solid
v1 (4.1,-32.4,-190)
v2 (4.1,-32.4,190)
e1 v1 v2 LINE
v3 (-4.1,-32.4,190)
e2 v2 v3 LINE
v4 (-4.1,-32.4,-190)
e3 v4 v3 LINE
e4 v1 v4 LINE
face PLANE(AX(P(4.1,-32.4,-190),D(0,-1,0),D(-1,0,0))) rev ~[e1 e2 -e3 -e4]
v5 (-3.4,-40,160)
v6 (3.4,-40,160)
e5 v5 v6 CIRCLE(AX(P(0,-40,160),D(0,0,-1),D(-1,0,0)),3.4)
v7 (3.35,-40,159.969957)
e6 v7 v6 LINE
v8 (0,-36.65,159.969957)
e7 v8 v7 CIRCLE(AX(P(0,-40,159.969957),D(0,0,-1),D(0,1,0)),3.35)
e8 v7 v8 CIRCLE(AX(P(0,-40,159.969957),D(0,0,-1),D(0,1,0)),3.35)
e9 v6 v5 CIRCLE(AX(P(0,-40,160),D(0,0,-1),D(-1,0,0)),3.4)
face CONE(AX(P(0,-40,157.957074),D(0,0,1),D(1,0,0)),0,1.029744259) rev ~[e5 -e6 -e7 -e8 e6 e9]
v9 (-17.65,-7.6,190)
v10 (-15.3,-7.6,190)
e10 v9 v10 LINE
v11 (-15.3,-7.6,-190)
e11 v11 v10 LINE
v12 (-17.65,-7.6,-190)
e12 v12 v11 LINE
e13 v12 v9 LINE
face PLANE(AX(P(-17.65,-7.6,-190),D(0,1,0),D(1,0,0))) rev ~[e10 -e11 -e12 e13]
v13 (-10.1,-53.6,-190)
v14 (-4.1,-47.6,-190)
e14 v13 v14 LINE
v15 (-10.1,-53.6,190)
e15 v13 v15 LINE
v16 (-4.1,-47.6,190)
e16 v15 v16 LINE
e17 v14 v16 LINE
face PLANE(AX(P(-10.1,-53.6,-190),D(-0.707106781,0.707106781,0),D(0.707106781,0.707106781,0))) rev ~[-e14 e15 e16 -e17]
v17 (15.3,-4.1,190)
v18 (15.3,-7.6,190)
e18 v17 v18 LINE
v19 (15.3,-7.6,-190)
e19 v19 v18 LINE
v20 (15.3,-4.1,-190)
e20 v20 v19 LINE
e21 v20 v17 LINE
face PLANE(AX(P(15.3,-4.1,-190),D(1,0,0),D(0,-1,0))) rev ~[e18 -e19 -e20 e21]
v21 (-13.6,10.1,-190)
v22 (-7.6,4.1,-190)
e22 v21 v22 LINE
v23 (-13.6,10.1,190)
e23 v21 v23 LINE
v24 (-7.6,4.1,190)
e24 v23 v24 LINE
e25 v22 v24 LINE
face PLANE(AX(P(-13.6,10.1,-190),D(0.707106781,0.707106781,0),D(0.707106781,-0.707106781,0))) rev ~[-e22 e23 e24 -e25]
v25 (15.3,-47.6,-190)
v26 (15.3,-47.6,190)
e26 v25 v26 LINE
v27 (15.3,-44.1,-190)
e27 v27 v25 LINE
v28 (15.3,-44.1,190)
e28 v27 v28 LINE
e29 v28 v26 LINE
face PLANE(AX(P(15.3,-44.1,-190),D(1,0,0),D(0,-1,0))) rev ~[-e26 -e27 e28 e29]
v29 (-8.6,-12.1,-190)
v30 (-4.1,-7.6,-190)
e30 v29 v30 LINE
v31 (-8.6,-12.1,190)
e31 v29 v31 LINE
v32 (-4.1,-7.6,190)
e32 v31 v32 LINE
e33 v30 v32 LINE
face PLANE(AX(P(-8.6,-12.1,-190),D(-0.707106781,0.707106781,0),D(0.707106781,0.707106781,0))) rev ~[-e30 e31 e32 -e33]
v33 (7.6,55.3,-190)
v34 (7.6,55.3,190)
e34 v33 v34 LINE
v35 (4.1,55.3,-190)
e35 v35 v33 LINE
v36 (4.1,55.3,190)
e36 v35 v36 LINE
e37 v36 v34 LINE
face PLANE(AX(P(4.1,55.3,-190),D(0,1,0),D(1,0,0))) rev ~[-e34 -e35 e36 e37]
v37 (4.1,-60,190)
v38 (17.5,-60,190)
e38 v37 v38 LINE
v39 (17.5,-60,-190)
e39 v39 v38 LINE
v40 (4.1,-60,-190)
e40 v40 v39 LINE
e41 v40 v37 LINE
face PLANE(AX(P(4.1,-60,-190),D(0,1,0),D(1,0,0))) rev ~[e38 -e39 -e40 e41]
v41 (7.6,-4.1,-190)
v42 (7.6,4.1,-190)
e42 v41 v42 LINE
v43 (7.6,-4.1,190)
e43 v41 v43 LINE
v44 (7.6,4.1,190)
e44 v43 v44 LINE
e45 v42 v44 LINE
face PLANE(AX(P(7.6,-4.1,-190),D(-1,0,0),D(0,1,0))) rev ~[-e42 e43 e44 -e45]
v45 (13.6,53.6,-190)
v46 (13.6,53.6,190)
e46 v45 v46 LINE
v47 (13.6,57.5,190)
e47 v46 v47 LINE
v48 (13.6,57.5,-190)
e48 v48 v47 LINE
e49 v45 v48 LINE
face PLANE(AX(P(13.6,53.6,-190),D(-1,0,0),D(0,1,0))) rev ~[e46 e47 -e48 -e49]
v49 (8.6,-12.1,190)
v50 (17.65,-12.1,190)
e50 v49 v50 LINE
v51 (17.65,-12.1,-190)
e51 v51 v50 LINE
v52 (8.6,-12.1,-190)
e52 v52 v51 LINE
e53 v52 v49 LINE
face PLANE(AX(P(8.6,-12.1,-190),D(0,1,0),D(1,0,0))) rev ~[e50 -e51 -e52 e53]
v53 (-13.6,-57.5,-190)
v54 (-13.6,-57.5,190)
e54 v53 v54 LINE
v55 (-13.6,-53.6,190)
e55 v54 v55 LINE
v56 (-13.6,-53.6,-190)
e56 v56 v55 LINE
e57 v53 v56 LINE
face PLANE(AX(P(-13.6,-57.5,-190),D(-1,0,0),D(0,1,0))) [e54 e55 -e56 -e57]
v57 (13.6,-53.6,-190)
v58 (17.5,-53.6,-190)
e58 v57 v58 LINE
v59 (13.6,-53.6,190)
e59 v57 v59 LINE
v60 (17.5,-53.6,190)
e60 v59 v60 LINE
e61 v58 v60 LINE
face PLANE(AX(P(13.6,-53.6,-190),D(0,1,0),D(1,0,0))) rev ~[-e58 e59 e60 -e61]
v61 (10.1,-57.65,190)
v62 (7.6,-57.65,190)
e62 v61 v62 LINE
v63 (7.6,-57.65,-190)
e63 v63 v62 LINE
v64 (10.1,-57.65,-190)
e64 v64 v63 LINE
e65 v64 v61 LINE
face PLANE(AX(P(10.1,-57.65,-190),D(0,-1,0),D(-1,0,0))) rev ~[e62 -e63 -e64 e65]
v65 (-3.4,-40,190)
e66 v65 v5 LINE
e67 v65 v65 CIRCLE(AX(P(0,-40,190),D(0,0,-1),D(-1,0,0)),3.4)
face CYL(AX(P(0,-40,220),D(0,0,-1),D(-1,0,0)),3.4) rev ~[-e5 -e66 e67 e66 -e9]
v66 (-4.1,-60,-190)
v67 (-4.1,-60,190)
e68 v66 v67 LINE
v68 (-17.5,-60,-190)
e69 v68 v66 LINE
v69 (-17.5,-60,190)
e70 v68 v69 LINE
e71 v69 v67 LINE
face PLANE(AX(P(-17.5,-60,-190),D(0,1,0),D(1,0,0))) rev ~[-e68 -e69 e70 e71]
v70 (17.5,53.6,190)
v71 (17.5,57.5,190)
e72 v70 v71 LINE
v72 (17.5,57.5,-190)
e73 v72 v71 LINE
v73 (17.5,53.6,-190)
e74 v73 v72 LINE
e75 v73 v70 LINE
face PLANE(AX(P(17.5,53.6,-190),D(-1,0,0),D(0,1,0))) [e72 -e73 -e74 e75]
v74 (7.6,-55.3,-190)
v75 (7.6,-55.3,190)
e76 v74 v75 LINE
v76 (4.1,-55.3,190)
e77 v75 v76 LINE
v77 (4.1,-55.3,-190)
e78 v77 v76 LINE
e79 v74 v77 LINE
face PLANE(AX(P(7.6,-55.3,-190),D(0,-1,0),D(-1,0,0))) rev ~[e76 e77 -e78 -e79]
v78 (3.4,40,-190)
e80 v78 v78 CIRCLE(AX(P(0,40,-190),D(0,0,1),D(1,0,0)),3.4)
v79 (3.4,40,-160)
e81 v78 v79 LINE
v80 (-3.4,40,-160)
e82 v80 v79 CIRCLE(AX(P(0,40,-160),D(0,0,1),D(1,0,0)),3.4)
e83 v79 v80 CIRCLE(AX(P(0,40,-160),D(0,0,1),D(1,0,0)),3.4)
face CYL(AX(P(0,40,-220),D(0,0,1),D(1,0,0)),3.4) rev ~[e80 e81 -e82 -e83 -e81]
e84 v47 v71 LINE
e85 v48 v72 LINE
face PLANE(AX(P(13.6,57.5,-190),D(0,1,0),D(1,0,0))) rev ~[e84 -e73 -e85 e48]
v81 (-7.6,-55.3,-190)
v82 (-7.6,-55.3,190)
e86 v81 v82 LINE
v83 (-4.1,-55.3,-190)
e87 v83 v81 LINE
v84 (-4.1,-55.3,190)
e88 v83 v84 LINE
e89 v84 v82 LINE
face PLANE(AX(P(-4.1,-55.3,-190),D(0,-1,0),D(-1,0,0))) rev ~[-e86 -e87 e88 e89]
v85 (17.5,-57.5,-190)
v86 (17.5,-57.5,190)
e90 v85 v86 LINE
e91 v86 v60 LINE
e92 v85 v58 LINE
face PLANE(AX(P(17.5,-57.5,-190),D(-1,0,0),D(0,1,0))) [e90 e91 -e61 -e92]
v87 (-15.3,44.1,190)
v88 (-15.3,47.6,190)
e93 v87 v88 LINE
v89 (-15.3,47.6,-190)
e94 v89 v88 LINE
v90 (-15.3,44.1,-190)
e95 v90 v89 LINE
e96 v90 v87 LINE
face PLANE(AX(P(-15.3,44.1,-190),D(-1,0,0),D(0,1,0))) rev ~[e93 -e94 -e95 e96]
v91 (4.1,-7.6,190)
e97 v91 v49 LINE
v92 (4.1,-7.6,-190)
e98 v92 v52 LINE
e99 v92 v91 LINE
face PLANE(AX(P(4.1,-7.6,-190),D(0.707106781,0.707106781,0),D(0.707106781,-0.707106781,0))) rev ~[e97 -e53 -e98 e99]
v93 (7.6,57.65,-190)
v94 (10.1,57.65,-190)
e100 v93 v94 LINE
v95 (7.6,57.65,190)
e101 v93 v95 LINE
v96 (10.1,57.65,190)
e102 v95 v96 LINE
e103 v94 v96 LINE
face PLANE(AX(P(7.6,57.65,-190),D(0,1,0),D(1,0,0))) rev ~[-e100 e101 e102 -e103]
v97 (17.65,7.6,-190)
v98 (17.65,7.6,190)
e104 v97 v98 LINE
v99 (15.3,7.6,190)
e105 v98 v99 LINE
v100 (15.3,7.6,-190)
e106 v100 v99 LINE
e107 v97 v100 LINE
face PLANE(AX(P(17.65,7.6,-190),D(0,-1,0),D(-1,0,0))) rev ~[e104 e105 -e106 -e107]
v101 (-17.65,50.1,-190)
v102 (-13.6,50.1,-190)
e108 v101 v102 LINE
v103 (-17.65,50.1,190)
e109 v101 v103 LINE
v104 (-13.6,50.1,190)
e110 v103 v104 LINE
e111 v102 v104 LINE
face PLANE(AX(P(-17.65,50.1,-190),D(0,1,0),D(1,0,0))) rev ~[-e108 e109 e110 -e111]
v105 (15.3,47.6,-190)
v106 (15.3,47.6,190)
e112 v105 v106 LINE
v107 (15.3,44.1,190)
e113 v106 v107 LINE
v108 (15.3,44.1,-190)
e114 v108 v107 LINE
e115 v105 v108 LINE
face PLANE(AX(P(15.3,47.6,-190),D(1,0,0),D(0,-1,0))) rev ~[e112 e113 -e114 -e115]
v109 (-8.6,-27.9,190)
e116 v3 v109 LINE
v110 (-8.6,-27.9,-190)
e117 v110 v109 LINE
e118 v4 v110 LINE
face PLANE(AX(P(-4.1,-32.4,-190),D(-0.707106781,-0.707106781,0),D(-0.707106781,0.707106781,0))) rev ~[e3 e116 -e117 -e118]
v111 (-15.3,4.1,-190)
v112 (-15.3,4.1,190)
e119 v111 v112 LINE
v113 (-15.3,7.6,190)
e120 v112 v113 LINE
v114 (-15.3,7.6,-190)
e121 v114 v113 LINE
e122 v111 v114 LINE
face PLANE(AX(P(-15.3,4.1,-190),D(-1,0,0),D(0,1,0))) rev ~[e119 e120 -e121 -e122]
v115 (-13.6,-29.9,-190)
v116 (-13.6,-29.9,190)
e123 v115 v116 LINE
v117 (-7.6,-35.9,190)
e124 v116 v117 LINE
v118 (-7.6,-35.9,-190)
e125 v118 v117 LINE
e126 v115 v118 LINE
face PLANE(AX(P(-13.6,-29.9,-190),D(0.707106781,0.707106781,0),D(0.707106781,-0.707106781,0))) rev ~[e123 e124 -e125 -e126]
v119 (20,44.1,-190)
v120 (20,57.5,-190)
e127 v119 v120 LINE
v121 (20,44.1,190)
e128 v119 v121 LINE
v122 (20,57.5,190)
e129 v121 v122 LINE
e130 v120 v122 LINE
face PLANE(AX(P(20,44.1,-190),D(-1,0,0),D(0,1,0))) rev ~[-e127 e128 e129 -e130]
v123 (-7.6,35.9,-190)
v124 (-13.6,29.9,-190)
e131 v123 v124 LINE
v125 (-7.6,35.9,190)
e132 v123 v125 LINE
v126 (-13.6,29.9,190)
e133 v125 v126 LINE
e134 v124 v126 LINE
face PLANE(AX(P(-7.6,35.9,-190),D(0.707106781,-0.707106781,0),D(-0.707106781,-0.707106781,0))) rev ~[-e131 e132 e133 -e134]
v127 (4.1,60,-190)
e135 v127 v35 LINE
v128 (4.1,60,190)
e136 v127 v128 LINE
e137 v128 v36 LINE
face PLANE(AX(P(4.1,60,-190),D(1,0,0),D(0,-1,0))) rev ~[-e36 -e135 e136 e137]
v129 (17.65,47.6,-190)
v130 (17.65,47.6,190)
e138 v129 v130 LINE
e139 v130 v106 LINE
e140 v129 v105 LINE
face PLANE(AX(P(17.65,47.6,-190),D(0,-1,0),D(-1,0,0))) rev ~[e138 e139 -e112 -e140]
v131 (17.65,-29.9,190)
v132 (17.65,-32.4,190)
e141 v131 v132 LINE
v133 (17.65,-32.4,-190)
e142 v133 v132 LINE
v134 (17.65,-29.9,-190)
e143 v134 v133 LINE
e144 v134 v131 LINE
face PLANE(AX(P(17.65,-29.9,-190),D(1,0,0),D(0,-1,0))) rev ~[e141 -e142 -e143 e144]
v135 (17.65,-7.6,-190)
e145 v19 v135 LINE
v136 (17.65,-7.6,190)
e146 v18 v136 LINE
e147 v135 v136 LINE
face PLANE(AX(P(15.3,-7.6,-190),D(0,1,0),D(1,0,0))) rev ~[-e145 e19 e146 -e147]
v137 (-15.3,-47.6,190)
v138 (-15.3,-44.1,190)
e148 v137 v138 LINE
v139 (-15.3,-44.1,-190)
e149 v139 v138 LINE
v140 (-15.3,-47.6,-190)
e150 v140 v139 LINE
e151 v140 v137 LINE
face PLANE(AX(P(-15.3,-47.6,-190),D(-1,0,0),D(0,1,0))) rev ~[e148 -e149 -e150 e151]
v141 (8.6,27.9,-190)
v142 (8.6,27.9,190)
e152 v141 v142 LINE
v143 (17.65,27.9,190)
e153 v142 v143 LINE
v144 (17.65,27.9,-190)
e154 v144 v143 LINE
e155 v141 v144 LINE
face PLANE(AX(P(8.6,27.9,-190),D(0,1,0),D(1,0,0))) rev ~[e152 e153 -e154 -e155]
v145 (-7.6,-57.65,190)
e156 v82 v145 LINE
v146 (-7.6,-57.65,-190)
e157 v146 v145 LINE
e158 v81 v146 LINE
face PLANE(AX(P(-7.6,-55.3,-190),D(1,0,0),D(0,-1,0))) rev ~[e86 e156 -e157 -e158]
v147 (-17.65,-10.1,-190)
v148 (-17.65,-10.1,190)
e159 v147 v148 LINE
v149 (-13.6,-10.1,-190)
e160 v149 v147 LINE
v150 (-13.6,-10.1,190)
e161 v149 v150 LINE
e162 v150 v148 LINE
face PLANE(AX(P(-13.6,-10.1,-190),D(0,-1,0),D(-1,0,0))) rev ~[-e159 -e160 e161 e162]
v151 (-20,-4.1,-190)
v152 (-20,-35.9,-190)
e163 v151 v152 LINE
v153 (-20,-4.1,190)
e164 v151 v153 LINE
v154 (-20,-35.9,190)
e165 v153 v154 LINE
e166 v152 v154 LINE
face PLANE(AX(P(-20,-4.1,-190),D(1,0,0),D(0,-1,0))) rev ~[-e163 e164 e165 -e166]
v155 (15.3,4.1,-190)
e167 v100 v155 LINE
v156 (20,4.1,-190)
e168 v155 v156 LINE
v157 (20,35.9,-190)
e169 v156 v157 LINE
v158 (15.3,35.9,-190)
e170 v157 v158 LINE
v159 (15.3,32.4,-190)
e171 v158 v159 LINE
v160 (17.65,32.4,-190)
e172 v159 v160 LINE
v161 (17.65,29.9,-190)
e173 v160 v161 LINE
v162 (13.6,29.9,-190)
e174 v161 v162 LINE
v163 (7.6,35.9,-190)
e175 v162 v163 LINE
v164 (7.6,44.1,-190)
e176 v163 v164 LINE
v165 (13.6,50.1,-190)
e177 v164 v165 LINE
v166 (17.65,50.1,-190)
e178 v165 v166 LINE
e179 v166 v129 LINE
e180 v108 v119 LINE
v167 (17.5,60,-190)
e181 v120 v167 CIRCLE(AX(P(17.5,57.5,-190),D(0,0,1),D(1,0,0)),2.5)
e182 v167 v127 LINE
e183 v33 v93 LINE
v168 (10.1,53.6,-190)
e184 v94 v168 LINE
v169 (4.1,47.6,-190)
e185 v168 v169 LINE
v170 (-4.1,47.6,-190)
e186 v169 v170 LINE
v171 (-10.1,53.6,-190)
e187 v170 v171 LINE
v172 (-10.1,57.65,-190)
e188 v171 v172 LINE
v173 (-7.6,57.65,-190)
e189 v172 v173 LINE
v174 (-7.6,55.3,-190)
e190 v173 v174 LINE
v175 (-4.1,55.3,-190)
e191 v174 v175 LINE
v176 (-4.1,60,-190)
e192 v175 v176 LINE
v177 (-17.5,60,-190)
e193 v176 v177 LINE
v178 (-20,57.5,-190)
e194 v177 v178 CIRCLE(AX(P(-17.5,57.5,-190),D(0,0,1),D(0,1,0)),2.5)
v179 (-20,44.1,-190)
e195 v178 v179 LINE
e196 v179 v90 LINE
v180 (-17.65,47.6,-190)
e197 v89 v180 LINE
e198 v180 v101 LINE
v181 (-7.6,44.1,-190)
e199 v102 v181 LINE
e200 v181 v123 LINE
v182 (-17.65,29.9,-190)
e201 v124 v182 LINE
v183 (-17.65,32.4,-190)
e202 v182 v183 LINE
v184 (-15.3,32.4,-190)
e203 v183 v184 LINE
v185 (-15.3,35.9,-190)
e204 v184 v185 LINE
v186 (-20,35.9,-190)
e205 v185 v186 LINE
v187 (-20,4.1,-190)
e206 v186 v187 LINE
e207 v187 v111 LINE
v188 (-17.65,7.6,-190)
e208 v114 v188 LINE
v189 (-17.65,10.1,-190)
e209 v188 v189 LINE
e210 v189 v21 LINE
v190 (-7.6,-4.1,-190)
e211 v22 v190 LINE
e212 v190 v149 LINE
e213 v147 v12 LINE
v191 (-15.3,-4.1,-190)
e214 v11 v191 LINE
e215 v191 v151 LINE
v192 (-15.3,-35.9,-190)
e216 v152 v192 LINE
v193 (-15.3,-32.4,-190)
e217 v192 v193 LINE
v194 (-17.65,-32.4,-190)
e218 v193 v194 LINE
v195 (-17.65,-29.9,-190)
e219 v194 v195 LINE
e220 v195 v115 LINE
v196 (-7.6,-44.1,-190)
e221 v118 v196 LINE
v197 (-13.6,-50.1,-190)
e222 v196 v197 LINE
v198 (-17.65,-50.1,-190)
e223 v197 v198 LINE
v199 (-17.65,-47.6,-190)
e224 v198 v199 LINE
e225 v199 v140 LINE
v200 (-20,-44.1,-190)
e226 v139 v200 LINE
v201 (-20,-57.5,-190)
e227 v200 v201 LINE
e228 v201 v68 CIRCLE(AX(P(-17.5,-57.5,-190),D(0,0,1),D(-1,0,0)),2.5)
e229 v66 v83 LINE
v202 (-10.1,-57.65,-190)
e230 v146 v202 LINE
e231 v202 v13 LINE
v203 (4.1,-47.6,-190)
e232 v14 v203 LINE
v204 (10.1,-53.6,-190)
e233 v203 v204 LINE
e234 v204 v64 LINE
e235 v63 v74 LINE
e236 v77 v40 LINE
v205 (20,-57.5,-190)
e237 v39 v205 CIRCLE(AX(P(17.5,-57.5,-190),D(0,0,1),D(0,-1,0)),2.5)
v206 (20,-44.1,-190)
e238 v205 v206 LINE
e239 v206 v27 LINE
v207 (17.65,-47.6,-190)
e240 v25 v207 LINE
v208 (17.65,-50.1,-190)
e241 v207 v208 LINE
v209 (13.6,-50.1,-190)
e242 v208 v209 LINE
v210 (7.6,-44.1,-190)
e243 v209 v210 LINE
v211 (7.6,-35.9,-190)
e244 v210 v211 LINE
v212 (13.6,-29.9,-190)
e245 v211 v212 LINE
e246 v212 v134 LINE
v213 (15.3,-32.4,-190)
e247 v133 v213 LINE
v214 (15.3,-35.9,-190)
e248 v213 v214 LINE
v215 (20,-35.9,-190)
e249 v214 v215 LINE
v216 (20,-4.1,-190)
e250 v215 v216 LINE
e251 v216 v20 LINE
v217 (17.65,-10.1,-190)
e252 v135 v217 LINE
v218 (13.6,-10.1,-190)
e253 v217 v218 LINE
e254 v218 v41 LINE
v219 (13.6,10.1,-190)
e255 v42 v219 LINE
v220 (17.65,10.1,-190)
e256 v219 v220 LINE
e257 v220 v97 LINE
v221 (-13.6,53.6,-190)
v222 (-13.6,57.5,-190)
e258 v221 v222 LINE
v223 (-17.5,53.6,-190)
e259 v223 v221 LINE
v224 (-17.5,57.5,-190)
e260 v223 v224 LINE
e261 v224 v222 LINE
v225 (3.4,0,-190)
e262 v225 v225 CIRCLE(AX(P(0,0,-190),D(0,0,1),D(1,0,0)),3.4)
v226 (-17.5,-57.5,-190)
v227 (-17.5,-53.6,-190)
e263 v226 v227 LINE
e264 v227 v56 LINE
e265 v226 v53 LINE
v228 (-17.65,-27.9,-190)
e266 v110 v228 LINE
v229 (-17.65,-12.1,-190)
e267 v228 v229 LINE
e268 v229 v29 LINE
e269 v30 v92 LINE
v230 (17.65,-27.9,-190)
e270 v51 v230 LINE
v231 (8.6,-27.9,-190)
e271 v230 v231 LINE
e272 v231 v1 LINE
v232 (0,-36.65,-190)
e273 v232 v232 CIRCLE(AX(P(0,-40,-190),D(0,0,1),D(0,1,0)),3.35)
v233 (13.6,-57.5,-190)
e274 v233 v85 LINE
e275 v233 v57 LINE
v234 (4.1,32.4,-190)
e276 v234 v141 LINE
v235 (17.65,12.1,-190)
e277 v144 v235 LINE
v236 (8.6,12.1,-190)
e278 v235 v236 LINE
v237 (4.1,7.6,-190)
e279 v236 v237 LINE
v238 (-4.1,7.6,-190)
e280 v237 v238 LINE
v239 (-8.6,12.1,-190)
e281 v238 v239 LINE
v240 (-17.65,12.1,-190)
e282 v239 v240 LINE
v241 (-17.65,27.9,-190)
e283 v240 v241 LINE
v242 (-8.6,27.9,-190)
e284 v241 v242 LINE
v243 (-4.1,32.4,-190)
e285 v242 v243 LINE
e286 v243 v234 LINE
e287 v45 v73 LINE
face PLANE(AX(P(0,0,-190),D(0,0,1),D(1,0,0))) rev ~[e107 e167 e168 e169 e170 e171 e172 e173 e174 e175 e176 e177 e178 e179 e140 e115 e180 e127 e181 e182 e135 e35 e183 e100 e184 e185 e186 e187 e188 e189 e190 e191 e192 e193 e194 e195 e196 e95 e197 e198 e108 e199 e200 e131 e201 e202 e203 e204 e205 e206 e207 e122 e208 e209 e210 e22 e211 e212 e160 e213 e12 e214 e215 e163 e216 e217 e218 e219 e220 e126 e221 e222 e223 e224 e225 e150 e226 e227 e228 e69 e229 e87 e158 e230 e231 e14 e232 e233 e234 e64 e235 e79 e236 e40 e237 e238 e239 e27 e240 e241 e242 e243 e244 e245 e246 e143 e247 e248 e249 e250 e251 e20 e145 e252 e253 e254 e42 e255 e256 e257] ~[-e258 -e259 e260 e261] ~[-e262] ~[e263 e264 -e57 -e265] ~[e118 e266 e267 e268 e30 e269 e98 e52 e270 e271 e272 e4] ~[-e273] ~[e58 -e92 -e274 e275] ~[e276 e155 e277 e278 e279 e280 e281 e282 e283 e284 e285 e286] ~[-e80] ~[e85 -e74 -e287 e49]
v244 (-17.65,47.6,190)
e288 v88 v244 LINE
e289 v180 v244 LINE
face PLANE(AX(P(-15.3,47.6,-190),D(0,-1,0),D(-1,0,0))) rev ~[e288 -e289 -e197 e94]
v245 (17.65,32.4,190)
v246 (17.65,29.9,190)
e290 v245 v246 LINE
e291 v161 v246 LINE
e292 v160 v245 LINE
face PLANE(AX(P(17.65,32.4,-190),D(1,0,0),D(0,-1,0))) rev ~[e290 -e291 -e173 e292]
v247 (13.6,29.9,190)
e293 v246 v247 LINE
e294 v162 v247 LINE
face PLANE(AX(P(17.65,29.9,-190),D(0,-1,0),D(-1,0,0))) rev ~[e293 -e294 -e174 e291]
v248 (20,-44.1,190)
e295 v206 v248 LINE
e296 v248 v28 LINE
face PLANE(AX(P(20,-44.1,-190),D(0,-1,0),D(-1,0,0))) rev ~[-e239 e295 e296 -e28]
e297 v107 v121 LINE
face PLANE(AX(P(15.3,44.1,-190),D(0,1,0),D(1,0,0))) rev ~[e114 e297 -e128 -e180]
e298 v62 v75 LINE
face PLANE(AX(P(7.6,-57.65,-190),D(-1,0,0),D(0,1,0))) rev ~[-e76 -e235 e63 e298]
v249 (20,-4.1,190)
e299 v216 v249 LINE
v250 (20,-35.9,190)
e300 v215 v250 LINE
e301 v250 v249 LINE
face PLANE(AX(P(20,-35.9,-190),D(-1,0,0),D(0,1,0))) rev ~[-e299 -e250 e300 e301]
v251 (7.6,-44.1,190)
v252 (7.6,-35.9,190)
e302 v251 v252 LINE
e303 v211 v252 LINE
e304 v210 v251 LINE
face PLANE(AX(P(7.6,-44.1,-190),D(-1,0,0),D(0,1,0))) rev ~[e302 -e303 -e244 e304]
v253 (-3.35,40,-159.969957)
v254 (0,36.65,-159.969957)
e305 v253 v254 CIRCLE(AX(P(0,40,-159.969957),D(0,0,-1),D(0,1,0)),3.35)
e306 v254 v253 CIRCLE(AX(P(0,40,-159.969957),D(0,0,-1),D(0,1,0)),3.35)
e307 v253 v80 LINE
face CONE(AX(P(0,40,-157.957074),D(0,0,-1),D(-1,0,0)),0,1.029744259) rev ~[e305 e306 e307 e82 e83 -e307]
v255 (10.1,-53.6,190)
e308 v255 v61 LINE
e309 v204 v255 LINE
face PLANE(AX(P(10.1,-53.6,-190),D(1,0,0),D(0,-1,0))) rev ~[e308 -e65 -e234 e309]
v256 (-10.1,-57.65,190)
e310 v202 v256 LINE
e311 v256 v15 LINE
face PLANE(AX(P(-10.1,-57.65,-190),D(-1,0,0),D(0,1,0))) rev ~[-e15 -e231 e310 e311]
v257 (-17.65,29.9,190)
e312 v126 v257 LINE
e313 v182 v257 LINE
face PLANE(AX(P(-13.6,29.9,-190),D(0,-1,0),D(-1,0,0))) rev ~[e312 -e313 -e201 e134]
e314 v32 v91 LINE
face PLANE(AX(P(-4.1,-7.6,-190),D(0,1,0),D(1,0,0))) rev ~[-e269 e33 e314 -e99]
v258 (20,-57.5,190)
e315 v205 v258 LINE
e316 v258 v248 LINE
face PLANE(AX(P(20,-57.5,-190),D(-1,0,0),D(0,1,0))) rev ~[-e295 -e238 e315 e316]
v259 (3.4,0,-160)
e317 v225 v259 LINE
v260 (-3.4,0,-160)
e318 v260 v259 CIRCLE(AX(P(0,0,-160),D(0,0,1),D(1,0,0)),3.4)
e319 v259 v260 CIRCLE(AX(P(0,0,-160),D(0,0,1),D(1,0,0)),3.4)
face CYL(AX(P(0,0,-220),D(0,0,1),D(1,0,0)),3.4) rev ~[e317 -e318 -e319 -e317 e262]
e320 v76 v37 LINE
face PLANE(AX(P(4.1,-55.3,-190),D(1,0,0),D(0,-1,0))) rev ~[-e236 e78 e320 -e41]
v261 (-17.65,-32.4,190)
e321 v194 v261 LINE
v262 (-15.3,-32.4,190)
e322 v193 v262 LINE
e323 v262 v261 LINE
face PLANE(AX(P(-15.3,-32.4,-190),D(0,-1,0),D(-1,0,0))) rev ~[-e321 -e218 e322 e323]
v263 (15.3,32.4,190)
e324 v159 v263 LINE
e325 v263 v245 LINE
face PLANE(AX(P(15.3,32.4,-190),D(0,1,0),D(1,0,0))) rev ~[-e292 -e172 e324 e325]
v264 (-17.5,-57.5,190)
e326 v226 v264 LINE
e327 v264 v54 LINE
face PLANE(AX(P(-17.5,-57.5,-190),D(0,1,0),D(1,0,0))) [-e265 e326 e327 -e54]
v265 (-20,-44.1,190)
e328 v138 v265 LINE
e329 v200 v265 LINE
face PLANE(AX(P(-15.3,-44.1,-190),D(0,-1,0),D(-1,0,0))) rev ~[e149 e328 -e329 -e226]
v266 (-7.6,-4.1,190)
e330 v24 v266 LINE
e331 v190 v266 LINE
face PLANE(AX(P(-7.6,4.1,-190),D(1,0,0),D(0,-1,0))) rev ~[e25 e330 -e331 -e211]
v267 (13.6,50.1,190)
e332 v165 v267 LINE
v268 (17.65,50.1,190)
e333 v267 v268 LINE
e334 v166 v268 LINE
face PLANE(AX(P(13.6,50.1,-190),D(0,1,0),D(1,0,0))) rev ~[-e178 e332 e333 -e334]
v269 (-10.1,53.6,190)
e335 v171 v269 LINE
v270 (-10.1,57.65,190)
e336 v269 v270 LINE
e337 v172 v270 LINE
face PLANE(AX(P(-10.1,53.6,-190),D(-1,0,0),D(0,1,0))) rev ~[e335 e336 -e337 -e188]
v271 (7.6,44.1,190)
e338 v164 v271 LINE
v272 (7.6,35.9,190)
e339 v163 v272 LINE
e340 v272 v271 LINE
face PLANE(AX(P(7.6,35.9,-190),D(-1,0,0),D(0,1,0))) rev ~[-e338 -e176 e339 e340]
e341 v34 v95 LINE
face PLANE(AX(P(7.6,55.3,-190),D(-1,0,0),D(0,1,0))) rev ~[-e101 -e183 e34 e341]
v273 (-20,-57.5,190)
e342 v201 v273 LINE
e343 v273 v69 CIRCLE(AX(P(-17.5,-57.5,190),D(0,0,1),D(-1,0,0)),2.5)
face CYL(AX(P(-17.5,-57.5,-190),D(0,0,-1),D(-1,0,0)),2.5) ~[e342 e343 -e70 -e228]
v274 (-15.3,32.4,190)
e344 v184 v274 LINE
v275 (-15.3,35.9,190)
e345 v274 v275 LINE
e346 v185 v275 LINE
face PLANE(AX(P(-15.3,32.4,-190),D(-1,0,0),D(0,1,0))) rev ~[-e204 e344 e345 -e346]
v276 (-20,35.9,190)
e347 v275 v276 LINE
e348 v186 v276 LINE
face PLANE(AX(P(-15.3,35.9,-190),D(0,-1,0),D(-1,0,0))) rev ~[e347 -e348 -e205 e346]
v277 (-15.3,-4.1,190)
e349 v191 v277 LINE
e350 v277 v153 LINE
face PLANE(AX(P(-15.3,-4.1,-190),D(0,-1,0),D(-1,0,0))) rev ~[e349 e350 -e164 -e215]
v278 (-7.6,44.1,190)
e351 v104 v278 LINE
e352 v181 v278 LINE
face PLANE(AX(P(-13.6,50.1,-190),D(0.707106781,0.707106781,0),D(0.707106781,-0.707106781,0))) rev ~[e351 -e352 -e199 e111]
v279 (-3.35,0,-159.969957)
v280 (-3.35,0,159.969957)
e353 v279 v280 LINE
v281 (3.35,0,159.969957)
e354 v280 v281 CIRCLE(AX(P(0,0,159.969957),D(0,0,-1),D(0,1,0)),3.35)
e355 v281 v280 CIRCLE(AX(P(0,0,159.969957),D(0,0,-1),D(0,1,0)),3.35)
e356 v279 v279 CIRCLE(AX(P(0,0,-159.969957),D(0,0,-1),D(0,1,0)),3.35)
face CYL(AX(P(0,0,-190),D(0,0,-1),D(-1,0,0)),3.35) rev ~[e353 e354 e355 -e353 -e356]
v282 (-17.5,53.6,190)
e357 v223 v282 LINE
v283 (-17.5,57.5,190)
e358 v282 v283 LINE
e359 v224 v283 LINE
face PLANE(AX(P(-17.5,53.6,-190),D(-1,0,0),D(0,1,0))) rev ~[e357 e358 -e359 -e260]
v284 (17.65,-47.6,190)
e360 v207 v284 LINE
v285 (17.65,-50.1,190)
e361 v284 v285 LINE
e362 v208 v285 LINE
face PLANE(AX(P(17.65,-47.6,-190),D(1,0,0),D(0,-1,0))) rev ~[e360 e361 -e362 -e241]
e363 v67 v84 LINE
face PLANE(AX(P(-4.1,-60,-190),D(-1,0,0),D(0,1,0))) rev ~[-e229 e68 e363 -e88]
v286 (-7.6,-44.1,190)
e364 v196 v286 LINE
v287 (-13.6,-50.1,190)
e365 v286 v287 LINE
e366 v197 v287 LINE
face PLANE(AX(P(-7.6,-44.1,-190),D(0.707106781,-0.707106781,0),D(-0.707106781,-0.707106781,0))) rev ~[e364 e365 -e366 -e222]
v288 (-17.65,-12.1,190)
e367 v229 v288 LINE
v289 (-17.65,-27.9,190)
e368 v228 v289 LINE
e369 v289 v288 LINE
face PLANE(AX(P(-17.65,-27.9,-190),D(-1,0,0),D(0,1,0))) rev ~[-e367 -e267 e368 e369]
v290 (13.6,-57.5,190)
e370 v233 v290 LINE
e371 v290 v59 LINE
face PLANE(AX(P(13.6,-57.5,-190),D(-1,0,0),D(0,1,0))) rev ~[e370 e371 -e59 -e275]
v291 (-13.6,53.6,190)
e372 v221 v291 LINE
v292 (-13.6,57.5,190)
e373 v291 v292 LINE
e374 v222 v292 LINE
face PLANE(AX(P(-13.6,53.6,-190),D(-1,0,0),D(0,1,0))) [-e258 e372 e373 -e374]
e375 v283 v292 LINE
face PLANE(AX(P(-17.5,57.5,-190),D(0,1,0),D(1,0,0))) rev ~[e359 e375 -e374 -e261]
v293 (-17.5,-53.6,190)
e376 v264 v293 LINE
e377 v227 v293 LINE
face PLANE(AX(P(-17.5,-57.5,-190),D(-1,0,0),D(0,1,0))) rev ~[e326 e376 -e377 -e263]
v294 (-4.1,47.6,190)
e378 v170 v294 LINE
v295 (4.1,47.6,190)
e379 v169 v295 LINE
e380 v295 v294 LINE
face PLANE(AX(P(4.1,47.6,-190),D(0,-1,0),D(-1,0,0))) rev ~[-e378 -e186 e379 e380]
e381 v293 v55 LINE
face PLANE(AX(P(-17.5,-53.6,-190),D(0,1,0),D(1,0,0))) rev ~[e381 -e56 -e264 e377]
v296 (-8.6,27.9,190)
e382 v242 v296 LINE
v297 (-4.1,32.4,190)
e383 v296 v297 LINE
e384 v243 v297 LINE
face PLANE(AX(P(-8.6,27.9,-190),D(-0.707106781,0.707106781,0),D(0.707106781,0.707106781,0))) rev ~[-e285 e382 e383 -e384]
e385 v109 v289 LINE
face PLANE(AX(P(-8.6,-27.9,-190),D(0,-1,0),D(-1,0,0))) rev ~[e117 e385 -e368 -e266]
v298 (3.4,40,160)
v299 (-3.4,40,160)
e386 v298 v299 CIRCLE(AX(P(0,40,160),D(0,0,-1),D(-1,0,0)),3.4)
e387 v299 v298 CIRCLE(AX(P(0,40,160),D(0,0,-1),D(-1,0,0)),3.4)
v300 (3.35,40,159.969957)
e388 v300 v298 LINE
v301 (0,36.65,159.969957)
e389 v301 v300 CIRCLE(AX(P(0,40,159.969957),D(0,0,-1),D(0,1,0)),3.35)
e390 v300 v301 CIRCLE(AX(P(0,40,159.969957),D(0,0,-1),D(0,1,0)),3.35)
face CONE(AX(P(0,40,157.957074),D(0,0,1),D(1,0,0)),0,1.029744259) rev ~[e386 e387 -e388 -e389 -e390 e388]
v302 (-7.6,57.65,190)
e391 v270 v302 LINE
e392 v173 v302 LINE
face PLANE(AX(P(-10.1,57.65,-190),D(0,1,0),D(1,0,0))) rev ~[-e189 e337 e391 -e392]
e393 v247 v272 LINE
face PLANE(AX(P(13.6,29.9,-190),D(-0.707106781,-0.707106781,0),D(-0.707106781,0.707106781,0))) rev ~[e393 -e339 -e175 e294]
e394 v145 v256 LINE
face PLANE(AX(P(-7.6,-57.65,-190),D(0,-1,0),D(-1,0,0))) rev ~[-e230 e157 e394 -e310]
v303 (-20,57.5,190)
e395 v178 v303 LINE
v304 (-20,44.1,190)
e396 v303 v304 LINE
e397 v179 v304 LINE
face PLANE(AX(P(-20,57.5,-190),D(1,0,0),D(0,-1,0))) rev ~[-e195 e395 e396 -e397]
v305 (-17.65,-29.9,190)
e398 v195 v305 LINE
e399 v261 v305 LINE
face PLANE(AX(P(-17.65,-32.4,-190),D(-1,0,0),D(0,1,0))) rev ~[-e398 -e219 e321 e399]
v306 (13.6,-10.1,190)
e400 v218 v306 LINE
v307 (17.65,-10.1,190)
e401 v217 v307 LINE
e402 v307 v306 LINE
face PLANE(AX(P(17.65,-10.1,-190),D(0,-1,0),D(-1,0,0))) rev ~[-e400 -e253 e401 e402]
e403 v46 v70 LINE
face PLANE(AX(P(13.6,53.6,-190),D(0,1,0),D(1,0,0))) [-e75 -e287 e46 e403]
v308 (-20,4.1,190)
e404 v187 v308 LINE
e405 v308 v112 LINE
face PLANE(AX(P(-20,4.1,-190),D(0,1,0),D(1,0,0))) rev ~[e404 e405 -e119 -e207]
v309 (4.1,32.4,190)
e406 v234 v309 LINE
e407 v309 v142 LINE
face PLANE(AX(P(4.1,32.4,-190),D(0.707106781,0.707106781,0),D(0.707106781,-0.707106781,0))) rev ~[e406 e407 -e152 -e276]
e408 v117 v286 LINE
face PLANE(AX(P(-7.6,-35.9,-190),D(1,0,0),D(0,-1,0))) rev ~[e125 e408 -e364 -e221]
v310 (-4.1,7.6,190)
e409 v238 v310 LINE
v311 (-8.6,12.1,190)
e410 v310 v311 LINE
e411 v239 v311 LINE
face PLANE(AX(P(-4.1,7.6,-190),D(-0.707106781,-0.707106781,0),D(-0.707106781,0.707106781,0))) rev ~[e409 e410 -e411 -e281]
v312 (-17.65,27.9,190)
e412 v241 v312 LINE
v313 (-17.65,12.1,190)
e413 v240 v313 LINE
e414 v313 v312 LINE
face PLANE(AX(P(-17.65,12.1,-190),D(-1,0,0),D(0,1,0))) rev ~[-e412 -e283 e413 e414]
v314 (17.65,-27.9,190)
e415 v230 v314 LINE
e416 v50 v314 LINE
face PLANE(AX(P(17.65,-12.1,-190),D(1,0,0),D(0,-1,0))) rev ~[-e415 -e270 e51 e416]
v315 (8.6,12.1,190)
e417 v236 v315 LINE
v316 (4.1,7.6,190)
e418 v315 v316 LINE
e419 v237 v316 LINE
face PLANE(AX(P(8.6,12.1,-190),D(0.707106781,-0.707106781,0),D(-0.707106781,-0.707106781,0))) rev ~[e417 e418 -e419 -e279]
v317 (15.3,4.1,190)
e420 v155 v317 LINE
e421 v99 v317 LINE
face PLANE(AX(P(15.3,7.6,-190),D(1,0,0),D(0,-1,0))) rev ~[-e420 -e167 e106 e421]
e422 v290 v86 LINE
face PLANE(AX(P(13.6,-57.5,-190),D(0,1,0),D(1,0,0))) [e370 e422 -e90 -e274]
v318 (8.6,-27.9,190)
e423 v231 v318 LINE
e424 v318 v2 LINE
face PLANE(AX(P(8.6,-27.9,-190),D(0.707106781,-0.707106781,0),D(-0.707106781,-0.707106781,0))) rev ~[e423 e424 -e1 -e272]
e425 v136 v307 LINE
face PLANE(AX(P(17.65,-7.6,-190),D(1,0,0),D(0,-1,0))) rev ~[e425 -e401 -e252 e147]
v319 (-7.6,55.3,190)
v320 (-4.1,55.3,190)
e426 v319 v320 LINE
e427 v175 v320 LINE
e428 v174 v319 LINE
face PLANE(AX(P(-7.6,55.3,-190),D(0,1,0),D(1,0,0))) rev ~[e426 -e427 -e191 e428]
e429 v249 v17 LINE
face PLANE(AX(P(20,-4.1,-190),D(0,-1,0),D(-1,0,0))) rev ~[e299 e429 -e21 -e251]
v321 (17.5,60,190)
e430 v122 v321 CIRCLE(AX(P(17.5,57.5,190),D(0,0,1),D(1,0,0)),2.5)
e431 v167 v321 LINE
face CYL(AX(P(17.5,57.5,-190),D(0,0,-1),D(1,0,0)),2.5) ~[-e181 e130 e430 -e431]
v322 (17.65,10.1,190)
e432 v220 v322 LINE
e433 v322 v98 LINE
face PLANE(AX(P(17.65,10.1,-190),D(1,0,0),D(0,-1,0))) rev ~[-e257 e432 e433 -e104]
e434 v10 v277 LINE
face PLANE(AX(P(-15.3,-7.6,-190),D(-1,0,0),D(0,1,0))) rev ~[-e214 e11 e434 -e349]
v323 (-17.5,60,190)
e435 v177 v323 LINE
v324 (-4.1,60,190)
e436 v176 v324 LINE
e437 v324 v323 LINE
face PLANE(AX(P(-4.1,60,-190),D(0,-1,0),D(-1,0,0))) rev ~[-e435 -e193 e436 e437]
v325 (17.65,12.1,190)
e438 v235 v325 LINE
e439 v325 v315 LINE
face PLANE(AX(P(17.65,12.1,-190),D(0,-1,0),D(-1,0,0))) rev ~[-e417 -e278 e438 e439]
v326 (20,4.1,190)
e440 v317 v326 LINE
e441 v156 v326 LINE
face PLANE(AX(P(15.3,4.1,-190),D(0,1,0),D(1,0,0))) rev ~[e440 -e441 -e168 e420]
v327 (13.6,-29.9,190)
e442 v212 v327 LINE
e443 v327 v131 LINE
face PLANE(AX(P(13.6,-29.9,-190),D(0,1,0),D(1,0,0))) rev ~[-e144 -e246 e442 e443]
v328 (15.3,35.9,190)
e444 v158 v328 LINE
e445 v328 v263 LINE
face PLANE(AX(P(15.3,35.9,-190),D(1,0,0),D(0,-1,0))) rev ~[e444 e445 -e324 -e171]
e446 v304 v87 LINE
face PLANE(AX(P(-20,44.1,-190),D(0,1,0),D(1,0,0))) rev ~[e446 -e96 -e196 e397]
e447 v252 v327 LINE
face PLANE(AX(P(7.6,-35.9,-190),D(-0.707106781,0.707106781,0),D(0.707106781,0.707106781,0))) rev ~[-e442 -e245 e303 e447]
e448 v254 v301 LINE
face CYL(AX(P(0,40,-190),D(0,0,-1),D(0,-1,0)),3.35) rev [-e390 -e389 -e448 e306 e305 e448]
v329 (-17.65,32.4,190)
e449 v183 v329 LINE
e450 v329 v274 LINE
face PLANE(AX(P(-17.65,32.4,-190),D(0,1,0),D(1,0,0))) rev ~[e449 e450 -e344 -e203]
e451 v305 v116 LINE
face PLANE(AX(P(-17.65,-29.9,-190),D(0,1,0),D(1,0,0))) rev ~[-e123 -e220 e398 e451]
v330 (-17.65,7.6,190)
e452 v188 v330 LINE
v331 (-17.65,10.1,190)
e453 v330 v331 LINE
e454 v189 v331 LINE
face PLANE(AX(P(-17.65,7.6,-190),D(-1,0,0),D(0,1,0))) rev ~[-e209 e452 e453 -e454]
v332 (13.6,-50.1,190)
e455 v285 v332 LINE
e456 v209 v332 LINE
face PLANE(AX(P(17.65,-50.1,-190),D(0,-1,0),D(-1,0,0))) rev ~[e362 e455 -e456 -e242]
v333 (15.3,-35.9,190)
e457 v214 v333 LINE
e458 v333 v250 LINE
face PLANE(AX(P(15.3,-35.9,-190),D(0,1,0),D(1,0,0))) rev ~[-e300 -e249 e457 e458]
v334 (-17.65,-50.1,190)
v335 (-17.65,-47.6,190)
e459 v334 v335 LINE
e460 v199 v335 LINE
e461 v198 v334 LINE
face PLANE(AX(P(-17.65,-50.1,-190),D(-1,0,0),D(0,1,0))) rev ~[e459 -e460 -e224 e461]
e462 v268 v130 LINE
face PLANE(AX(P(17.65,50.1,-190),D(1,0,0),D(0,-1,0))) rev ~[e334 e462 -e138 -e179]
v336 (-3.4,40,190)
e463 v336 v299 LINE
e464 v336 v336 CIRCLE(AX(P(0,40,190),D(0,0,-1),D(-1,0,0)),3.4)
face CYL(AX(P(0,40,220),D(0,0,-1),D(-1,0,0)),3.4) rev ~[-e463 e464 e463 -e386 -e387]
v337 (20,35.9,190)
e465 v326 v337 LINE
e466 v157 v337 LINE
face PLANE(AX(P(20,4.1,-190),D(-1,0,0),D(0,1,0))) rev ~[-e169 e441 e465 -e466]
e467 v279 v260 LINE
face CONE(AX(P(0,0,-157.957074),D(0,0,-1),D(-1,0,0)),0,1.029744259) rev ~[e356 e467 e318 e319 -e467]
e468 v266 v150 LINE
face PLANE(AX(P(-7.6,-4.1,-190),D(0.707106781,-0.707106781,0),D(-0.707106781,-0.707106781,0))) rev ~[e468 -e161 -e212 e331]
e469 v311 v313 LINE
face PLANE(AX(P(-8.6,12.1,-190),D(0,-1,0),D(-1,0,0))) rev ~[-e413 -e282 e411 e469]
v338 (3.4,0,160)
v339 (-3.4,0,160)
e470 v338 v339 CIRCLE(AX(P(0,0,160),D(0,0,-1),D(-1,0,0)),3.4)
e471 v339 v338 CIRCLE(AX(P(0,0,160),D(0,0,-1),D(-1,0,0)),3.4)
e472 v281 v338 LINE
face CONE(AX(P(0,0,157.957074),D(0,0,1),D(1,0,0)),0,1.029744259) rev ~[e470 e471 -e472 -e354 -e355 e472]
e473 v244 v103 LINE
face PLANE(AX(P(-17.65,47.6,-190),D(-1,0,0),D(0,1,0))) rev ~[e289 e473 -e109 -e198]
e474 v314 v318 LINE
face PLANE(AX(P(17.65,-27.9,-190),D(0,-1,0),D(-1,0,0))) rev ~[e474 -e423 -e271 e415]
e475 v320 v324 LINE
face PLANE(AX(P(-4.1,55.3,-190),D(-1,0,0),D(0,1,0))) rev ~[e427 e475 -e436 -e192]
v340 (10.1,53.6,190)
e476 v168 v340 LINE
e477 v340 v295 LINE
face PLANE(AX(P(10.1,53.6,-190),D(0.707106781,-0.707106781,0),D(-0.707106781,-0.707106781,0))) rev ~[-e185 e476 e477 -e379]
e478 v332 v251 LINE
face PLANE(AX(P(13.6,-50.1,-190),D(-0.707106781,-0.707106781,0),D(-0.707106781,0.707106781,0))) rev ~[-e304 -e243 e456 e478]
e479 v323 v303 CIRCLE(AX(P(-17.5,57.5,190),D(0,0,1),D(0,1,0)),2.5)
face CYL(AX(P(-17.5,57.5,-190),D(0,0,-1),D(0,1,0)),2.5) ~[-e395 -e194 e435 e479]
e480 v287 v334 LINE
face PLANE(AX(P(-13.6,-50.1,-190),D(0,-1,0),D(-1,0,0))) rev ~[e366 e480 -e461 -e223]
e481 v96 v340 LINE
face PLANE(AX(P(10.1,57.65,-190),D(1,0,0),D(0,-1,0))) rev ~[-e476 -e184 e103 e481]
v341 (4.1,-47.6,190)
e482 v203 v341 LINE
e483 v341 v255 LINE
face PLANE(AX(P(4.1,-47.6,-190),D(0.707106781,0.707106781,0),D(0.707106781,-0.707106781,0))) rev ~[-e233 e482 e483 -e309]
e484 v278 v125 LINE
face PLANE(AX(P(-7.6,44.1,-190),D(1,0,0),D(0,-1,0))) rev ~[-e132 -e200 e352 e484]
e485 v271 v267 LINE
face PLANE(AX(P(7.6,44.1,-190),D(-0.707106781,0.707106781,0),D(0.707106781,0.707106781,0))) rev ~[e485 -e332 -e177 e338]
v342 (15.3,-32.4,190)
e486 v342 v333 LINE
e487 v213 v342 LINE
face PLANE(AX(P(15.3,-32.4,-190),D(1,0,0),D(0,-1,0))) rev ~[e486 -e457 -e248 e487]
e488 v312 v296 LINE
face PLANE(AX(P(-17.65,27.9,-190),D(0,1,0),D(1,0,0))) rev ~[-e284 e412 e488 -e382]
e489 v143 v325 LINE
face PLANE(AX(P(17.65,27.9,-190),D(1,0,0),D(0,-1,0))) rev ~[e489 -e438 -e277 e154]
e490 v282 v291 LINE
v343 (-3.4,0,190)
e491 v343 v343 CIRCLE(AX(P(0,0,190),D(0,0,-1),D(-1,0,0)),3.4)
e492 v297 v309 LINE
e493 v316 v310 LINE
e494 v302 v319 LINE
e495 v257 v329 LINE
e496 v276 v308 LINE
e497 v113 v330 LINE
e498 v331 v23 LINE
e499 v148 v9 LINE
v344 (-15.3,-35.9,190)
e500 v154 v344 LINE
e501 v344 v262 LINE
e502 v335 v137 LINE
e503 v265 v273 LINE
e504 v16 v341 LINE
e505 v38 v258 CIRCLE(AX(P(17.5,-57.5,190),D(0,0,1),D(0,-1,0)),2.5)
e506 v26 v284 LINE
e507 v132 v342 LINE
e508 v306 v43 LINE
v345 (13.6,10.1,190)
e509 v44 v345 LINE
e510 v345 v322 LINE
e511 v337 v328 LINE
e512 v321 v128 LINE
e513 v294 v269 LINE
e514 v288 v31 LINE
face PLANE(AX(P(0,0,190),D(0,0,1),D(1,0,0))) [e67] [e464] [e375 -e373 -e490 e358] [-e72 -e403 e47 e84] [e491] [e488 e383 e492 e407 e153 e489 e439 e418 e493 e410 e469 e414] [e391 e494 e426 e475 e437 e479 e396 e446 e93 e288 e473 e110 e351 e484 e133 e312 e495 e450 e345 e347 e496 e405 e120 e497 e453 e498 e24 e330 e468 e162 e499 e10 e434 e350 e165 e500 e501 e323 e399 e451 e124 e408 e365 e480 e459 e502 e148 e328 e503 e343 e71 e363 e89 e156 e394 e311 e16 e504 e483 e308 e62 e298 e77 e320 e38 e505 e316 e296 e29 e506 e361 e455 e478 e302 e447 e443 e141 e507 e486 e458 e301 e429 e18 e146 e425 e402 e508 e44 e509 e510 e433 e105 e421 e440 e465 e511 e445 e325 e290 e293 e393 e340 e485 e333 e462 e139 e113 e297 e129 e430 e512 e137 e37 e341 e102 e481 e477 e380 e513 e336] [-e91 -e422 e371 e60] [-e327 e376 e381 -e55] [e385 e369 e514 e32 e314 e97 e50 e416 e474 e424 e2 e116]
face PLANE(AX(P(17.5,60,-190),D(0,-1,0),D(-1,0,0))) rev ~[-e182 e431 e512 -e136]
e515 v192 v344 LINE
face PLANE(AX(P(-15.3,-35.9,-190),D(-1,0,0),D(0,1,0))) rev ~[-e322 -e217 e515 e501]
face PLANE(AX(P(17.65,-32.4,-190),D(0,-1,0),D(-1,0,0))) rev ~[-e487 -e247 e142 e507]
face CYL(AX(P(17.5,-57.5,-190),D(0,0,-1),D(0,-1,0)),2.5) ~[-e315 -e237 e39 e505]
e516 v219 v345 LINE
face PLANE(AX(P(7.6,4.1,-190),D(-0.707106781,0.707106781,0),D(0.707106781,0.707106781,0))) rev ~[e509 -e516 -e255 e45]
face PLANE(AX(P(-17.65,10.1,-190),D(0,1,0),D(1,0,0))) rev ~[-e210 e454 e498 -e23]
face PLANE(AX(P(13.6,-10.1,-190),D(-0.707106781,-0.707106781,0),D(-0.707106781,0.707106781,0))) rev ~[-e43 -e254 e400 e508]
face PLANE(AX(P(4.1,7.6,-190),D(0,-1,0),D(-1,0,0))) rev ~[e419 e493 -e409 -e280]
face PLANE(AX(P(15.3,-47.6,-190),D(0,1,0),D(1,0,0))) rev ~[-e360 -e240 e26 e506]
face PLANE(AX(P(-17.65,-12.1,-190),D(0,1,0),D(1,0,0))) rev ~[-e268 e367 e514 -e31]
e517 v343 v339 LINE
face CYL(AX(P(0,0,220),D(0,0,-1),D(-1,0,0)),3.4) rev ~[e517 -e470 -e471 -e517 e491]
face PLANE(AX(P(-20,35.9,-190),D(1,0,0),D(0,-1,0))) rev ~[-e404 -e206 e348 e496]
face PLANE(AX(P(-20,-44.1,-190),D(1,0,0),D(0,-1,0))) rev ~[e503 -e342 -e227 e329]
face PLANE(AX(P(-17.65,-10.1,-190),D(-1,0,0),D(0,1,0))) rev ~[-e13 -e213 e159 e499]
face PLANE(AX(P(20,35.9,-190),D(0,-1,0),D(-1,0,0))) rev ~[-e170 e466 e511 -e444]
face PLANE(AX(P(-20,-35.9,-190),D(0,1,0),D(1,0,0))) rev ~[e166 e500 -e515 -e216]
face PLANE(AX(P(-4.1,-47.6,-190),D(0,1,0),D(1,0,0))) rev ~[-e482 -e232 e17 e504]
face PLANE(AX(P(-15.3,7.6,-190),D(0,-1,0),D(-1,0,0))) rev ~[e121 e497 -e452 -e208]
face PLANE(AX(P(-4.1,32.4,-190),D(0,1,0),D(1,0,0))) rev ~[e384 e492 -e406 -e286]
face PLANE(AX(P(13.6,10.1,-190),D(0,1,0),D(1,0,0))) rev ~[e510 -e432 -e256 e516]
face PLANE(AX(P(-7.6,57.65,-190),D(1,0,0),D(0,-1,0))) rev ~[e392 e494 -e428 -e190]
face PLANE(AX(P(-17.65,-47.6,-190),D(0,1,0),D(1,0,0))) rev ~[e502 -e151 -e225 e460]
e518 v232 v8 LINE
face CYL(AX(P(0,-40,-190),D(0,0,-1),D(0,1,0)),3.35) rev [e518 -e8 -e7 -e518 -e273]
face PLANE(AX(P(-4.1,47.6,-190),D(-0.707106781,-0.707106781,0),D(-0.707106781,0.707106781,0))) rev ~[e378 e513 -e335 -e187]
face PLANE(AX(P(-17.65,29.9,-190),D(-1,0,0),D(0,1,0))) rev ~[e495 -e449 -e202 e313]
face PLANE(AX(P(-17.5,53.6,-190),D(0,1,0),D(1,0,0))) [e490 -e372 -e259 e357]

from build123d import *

# Parameters (mm, degrees)
SKETCH2_W                      = 3.9
SKETCH2_H                      = 3.9
F_40_SERIES_TS40_120LM_1_DEPTH = 380
M8X1_25_TAPPED_HOLE1_D         = 6.8
M8X1_25_TAPPED_HOLE1_DEPTH     = 30
M8X1_25_TAPPED_HOLE1_TIP       = 2.042926105
M8X1_25_TAPPED_HOLE2_D         = 6.8
M8X1_25_TAPPED_HOLE2_DEPTH     = 30
M8X1_25_TAPPED_HOLE2_TIP       = 2.042926105


with BuildPart() as part:
    # Sketch2 → 40 series TS40-120LM(1) (new body)
    with BuildSketch(Plane.XY.offset(-190)):
        with BuildLine():
            Line((15.3, -35.9), (20, -35.9))
            Line((20, -35.9), (20, -4.1))
            Line((20, -4.1), (15.3, -4.1))
            Line((15.3, -4.1), (15.3, -7.6))
            Line((15.3, -7.6), (17.65, -7.6))
            Line((17.65, -7.6), (17.65, -10.1))
            Line((17.65, -10.1), (13.6, -10.1))
            Line((13.6, -10.1), (7.6, -4.1))
            Line((7.6, -4.1), (7.6, 4.1))
            Line((7.6, 4.1), (13.6, 10.1))
            Line((13.6, 10.1), (17.65, 10.1))
            Line((17.65, 10.1), (17.65, 7.6))
            Line((17.65, 7.6), (15.3, 7.6))
            Line((15.3, 7.6), (15.3, 4.1))
            Line((15.3, 4.1), (20, 4.1))
            Line((20, 4.1), (20, 35.9))
            Line((20, 35.9), (15.3, 35.9))
            Line((15.3, 35.9), (15.3, 32.4))
            Line((15.3, 32.4), (17.65, 32.4))
            Line((17.65, 32.4), (17.65, 29.9))
            Line((17.65, 29.9), (13.6, 29.9))
            Line((13.6, 29.9), (7.6, 35.9))
            Line((7.6, 35.9), (7.6, 44.1))
            Line((7.6, 44.1), (13.6, 50.1))
            Line((13.6, 50.1), (17.65, 50.1))
            Line((17.65, 50.1), (17.65, 47.6))
            Line((17.65, 47.6), (15.3, 47.6))
            Line((15.3, 47.6), (15.3, 44.1))
            Line((15.3, 44.1), (20, 44.1))
            Line((20, 44.1), (20, 57.5))
            ThreePointArc((20, 57.5), (19.267766953, 59.267766953), (17.5, 60))
            Line((17.5, 60), (4.1, 60))
            Line((4.1, 60), (4.1, 55.3))
            Line((4.1, 55.3), (7.6, 55.3))
            Line((7.6, 55.3), (7.6, 57.65))
            Line((7.6, 57.65), (10.1, 57.65))
            Line((10.1, 57.65), (10.1, 53.6))
            Line((10.1, 53.6), (4.1, 47.6))
            Line((4.1, 47.6), (-4.1, 47.6))
            Line((-4.1, 47.6), (-10.1, 53.6))
            Line((-10.1, 53.6), (-10.1, 57.65))
            Line((-10.1, 57.65), (-7.6, 57.65))
            Line((-7.6, 57.65), (-7.6, 55.3))
            Line((-7.6, 55.3), (-4.1, 55.3))
            Line((-4.1, 55.3), (-4.1, 60))
            Line((-4.1, 60), (-17.5, 60))
            ThreePointArc((-17.5, 60), (-19.267766953, 59.267766953), (-20, 57.5))
            Line((-20, 57.5), (-20, 44.1))
            Line((-20, 44.1), (-15.3, 44.1))
            Line((-15.3, 44.1), (-15.3, 47.6))
            Line((-15.3, 47.6), (-17.65, 47.6))
            Line((-17.65, 47.6), (-17.65, 50.1))
            Line((-17.65, 50.1), (-13.6, 50.1))
            Line((-13.6, 50.1), (-7.6, 44.1))
            Line((-7.6, 44.1), (-7.6, 35.9))
            Line((-7.6, 35.9), (-13.6, 29.9))
            Line((-13.6, 29.9), (-17.65, 29.9))
            Line((-17.65, 29.9), (-17.65, 32.4))
            Line((-17.65, 32.4), (-15.3, 32.4))
            Line((-15.3, 32.4), (-15.3, 35.9))
            Line((-15.3, 35.9), (-20, 35.9))
            Line((-20, 35.9), (-20, 4.1))
            Line((-20, 4.1), (-15.3, 4.1))
            Line((-15.3, 4.1), (-15.3, 7.6))
            Line((-15.3, 7.6), (-17.65, 7.6))
            Line((-17.65, 7.6), (-17.65, 10.1))
            Line((-17.65, 10.1), (-13.6, 10.1))
            Line((-13.6, 10.1), (-7.6, 4.1))
            Line((-7.6, 4.1), (-7.6, -4.1))
            Line((-7.6, -4.1), (-13.6, -10.1))
            Line((-13.6, -10.1), (-17.65, -10.1))
            Line((-17.65, -10.1), (-17.65, -7.6))
            Line((-17.65, -7.6), (-15.3, -7.6))
            Line((-15.3, -7.6), (-15.3, -4.1))
            Line((-15.3, -4.1), (-20, -4.1))
            Line((-20, -4.1), (-20, -35.9))
            Line((-20, -35.9), (-15.3, -35.9))
            Line((-15.3, -35.9), (-15.3, -32.4))
            Line((-15.3, -32.4), (-17.65, -32.4))
            Line((-17.65, -32.4), (-17.65, -29.9))
            Line((-17.65, -29.9), (-13.6, -29.9))
            Line((-13.6, -29.9), (-7.6, -35.9))
            Line((-7.6, -35.9), (-7.6, -44.1))
            Line((-7.6, -44.1), (-13.6, -50.1))
            Line((-13.6, -50.1), (-17.65, -50.1))
            Line((-17.65, -50.1), (-17.65, -47.6))
            Line((-17.65, -47.6), (-15.3, -47.6))
            Line((-15.3, -47.6), (-15.3, -44.1))
            Line((-15.3, -44.1), (-20, -44.1))
            Line((-20, -44.1), (-20, -57.5))
            ThreePointArc((-20, -57.5), (-19.267766953, -59.267766953), (-17.5, -60))
            Line((-17.5, -60), (-4.1, -60))
            Line((-4.1, -60), (-4.1, -55.3))
            Line((-4.1, -55.3), (-7.6, -55.3))
            Line((-7.6, -55.3), (-7.6, -57.65))
            Line((-7.6, -57.65), (-10.1, -57.65))
            Line((-10.1, -57.65), (-10.1, -53.6))
            Line((-10.1, -53.6), (-4.1, -47.6))
            Line((-4.1, -47.6), (4.1, -47.6))
            Line((4.1, -47.6), (10.1, -53.6))
            Line((10.1, -53.6), (10.1, -57.65))
            Line((10.1, -57.65), (7.6, -57.65))
            Line((7.6, -57.65), (7.6, -55.3))
            Line((7.6, -55.3), (4.1, -55.3))
            Line((4.1, -55.3), (4.1, -60))
            Line((4.1, -60), (17.5, -60))
            ThreePointArc((17.5, -60), (19.267766953, -59.267766953), (20, -57.5))
            Line((20, -57.5), (20, -44.1))
            Line((20, -44.1), (15.3, -44.1))
            Line((15.3, -44.1), (15.3, -47.6))
            Line((15.3, -47.6), (17.65, -47.6))
            Line((17.65, -47.6), (17.65, -50.1))
            Line((17.65, -50.1), (13.6, -50.1))
            Line((13.6, -50.1), (7.6, -44.1))
            Line((7.6, -44.1), (7.6, -35.9))
            Line((7.6, -35.9), (13.6, -29.9))
            Line((13.6, -29.9), (17.65, -29.9))
            Line((17.65, -29.9), (17.65, -32.4))
            Line((17.65, -32.4), (15.3, -32.4))
            Line((15.3, -32.4), (15.3, -35.9))
        make_face()
        Polygon((-4.1, -7.6), (4.1, -7.6), (8.6, -12.1), (17.65, -12.1), (17.65, -27.9), (8.6, -27.9), (4.1, -32.4), (-4.1, -32.4), (-8.6, -27.9), (-17.65, -27.9), (-17.65, -12.1), (-8.6, -12.1), align=None, mode=Mode.SUBTRACT)
        Polygon((-4.1, 7.6), (-8.6, 12.1), (-17.65, 12.1), (-17.65, 27.9), (-8.6, 27.9), (-4.1, 32.4), (4.1, 32.4), (8.6, 27.9), (17.65, 27.9), (17.65, 12.1), (8.6, 12.1), (4.1, 7.6), align=None, mode=Mode.SUBTRACT)
        with Locations((15.55, -55.55)):
            Rectangle(SKETCH2_W, SKETCH2_H, mode=Mode.SUBTRACT)
        with Locations((-15.55, -55.55)):
            Rectangle(SKETCH2_W, SKETCH2_H, mode=Mode.SUBTRACT)
        with Locations((-15.55, 55.55)):
            Rectangle(SKETCH2_W, SKETCH2_H, mode=Mode.SUBTRACT)
        with Locations((15.55, 55.55)):
            Rectangle(SKETCH2_W, SKETCH2_H, mode=Mode.SUBTRACT)
        with BuildLine():
            ThreePointArc((0, -43.35), (3.35, -40), (0, -36.65))
            ThreePointArc((0, -36.65), (-3.35, -40), (0, -43.35))
        make_face(mode=Mode.SUBTRACT)
        with BuildLine():
            ThreePointArc((3.35, 0), (0, -3.35), (-3.35, 0))
            ThreePointArc((-3.35, 0), (0, 3.35), (3.35, 0))
        make_face(mode=Mode.SUBTRACT)
        with BuildLine():
            ThreePointArc((0, 43.35), (-3.35, 40), (0, 36.65))
            ThreePointArc((0, 36.65), (3.35, 40), (0, 43.35))
        make_face(mode=Mode.SUBTRACT)
    extrude(amount=F_40_SERIES_TS40_120LM_1_DEPTH)

    # M8x1.25 Tapped Hole1
    with Locations(Plane.XY.offset(190)):
        with Locations((0, 40), (0, 0), (0, -40)):
            Hole(M8X1_25_TAPPED_HOLE1_D / 2, depth=M8X1_25_TAPPED_HOLE1_DEPTH)
            with Locations((0, 0, -(M8X1_25_TAPPED_HOLE1_DEPTH + M8X1_25_TAPPED_HOLE1_TIP / 2))):  # 118° drill point
                Cone(0, M8X1_25_TAPPED_HOLE1_D / 2, M8X1_25_TAPPED_HOLE1_TIP, mode=Mode.SUBTRACT)

    # M8x1.25 Tapped Hole2
    with Locations(Plane(origin=(0, 0, -190), x_dir=(-1, 0, 0), z_dir=(0, 0, -1))):
        with Locations((0, 40), (0, 0)):
            Hole(M8X1_25_TAPPED_HOLE2_D / 2, depth=M8X1_25_TAPPED_HOLE2_DEPTH)
            with Locations((0, 0, -(M8X1_25_TAPPED_HOLE2_DEPTH + M8X1_25_TAPPED_HOLE2_TIP / 2))):  # 118° drill point
                Cone(0, M8X1_25_TAPPED_HOLE2_D / 2, M8X1_25_TAPPED_HOLE2_TIP, mode=Mode.SUBTRACT)


solid = part.part
